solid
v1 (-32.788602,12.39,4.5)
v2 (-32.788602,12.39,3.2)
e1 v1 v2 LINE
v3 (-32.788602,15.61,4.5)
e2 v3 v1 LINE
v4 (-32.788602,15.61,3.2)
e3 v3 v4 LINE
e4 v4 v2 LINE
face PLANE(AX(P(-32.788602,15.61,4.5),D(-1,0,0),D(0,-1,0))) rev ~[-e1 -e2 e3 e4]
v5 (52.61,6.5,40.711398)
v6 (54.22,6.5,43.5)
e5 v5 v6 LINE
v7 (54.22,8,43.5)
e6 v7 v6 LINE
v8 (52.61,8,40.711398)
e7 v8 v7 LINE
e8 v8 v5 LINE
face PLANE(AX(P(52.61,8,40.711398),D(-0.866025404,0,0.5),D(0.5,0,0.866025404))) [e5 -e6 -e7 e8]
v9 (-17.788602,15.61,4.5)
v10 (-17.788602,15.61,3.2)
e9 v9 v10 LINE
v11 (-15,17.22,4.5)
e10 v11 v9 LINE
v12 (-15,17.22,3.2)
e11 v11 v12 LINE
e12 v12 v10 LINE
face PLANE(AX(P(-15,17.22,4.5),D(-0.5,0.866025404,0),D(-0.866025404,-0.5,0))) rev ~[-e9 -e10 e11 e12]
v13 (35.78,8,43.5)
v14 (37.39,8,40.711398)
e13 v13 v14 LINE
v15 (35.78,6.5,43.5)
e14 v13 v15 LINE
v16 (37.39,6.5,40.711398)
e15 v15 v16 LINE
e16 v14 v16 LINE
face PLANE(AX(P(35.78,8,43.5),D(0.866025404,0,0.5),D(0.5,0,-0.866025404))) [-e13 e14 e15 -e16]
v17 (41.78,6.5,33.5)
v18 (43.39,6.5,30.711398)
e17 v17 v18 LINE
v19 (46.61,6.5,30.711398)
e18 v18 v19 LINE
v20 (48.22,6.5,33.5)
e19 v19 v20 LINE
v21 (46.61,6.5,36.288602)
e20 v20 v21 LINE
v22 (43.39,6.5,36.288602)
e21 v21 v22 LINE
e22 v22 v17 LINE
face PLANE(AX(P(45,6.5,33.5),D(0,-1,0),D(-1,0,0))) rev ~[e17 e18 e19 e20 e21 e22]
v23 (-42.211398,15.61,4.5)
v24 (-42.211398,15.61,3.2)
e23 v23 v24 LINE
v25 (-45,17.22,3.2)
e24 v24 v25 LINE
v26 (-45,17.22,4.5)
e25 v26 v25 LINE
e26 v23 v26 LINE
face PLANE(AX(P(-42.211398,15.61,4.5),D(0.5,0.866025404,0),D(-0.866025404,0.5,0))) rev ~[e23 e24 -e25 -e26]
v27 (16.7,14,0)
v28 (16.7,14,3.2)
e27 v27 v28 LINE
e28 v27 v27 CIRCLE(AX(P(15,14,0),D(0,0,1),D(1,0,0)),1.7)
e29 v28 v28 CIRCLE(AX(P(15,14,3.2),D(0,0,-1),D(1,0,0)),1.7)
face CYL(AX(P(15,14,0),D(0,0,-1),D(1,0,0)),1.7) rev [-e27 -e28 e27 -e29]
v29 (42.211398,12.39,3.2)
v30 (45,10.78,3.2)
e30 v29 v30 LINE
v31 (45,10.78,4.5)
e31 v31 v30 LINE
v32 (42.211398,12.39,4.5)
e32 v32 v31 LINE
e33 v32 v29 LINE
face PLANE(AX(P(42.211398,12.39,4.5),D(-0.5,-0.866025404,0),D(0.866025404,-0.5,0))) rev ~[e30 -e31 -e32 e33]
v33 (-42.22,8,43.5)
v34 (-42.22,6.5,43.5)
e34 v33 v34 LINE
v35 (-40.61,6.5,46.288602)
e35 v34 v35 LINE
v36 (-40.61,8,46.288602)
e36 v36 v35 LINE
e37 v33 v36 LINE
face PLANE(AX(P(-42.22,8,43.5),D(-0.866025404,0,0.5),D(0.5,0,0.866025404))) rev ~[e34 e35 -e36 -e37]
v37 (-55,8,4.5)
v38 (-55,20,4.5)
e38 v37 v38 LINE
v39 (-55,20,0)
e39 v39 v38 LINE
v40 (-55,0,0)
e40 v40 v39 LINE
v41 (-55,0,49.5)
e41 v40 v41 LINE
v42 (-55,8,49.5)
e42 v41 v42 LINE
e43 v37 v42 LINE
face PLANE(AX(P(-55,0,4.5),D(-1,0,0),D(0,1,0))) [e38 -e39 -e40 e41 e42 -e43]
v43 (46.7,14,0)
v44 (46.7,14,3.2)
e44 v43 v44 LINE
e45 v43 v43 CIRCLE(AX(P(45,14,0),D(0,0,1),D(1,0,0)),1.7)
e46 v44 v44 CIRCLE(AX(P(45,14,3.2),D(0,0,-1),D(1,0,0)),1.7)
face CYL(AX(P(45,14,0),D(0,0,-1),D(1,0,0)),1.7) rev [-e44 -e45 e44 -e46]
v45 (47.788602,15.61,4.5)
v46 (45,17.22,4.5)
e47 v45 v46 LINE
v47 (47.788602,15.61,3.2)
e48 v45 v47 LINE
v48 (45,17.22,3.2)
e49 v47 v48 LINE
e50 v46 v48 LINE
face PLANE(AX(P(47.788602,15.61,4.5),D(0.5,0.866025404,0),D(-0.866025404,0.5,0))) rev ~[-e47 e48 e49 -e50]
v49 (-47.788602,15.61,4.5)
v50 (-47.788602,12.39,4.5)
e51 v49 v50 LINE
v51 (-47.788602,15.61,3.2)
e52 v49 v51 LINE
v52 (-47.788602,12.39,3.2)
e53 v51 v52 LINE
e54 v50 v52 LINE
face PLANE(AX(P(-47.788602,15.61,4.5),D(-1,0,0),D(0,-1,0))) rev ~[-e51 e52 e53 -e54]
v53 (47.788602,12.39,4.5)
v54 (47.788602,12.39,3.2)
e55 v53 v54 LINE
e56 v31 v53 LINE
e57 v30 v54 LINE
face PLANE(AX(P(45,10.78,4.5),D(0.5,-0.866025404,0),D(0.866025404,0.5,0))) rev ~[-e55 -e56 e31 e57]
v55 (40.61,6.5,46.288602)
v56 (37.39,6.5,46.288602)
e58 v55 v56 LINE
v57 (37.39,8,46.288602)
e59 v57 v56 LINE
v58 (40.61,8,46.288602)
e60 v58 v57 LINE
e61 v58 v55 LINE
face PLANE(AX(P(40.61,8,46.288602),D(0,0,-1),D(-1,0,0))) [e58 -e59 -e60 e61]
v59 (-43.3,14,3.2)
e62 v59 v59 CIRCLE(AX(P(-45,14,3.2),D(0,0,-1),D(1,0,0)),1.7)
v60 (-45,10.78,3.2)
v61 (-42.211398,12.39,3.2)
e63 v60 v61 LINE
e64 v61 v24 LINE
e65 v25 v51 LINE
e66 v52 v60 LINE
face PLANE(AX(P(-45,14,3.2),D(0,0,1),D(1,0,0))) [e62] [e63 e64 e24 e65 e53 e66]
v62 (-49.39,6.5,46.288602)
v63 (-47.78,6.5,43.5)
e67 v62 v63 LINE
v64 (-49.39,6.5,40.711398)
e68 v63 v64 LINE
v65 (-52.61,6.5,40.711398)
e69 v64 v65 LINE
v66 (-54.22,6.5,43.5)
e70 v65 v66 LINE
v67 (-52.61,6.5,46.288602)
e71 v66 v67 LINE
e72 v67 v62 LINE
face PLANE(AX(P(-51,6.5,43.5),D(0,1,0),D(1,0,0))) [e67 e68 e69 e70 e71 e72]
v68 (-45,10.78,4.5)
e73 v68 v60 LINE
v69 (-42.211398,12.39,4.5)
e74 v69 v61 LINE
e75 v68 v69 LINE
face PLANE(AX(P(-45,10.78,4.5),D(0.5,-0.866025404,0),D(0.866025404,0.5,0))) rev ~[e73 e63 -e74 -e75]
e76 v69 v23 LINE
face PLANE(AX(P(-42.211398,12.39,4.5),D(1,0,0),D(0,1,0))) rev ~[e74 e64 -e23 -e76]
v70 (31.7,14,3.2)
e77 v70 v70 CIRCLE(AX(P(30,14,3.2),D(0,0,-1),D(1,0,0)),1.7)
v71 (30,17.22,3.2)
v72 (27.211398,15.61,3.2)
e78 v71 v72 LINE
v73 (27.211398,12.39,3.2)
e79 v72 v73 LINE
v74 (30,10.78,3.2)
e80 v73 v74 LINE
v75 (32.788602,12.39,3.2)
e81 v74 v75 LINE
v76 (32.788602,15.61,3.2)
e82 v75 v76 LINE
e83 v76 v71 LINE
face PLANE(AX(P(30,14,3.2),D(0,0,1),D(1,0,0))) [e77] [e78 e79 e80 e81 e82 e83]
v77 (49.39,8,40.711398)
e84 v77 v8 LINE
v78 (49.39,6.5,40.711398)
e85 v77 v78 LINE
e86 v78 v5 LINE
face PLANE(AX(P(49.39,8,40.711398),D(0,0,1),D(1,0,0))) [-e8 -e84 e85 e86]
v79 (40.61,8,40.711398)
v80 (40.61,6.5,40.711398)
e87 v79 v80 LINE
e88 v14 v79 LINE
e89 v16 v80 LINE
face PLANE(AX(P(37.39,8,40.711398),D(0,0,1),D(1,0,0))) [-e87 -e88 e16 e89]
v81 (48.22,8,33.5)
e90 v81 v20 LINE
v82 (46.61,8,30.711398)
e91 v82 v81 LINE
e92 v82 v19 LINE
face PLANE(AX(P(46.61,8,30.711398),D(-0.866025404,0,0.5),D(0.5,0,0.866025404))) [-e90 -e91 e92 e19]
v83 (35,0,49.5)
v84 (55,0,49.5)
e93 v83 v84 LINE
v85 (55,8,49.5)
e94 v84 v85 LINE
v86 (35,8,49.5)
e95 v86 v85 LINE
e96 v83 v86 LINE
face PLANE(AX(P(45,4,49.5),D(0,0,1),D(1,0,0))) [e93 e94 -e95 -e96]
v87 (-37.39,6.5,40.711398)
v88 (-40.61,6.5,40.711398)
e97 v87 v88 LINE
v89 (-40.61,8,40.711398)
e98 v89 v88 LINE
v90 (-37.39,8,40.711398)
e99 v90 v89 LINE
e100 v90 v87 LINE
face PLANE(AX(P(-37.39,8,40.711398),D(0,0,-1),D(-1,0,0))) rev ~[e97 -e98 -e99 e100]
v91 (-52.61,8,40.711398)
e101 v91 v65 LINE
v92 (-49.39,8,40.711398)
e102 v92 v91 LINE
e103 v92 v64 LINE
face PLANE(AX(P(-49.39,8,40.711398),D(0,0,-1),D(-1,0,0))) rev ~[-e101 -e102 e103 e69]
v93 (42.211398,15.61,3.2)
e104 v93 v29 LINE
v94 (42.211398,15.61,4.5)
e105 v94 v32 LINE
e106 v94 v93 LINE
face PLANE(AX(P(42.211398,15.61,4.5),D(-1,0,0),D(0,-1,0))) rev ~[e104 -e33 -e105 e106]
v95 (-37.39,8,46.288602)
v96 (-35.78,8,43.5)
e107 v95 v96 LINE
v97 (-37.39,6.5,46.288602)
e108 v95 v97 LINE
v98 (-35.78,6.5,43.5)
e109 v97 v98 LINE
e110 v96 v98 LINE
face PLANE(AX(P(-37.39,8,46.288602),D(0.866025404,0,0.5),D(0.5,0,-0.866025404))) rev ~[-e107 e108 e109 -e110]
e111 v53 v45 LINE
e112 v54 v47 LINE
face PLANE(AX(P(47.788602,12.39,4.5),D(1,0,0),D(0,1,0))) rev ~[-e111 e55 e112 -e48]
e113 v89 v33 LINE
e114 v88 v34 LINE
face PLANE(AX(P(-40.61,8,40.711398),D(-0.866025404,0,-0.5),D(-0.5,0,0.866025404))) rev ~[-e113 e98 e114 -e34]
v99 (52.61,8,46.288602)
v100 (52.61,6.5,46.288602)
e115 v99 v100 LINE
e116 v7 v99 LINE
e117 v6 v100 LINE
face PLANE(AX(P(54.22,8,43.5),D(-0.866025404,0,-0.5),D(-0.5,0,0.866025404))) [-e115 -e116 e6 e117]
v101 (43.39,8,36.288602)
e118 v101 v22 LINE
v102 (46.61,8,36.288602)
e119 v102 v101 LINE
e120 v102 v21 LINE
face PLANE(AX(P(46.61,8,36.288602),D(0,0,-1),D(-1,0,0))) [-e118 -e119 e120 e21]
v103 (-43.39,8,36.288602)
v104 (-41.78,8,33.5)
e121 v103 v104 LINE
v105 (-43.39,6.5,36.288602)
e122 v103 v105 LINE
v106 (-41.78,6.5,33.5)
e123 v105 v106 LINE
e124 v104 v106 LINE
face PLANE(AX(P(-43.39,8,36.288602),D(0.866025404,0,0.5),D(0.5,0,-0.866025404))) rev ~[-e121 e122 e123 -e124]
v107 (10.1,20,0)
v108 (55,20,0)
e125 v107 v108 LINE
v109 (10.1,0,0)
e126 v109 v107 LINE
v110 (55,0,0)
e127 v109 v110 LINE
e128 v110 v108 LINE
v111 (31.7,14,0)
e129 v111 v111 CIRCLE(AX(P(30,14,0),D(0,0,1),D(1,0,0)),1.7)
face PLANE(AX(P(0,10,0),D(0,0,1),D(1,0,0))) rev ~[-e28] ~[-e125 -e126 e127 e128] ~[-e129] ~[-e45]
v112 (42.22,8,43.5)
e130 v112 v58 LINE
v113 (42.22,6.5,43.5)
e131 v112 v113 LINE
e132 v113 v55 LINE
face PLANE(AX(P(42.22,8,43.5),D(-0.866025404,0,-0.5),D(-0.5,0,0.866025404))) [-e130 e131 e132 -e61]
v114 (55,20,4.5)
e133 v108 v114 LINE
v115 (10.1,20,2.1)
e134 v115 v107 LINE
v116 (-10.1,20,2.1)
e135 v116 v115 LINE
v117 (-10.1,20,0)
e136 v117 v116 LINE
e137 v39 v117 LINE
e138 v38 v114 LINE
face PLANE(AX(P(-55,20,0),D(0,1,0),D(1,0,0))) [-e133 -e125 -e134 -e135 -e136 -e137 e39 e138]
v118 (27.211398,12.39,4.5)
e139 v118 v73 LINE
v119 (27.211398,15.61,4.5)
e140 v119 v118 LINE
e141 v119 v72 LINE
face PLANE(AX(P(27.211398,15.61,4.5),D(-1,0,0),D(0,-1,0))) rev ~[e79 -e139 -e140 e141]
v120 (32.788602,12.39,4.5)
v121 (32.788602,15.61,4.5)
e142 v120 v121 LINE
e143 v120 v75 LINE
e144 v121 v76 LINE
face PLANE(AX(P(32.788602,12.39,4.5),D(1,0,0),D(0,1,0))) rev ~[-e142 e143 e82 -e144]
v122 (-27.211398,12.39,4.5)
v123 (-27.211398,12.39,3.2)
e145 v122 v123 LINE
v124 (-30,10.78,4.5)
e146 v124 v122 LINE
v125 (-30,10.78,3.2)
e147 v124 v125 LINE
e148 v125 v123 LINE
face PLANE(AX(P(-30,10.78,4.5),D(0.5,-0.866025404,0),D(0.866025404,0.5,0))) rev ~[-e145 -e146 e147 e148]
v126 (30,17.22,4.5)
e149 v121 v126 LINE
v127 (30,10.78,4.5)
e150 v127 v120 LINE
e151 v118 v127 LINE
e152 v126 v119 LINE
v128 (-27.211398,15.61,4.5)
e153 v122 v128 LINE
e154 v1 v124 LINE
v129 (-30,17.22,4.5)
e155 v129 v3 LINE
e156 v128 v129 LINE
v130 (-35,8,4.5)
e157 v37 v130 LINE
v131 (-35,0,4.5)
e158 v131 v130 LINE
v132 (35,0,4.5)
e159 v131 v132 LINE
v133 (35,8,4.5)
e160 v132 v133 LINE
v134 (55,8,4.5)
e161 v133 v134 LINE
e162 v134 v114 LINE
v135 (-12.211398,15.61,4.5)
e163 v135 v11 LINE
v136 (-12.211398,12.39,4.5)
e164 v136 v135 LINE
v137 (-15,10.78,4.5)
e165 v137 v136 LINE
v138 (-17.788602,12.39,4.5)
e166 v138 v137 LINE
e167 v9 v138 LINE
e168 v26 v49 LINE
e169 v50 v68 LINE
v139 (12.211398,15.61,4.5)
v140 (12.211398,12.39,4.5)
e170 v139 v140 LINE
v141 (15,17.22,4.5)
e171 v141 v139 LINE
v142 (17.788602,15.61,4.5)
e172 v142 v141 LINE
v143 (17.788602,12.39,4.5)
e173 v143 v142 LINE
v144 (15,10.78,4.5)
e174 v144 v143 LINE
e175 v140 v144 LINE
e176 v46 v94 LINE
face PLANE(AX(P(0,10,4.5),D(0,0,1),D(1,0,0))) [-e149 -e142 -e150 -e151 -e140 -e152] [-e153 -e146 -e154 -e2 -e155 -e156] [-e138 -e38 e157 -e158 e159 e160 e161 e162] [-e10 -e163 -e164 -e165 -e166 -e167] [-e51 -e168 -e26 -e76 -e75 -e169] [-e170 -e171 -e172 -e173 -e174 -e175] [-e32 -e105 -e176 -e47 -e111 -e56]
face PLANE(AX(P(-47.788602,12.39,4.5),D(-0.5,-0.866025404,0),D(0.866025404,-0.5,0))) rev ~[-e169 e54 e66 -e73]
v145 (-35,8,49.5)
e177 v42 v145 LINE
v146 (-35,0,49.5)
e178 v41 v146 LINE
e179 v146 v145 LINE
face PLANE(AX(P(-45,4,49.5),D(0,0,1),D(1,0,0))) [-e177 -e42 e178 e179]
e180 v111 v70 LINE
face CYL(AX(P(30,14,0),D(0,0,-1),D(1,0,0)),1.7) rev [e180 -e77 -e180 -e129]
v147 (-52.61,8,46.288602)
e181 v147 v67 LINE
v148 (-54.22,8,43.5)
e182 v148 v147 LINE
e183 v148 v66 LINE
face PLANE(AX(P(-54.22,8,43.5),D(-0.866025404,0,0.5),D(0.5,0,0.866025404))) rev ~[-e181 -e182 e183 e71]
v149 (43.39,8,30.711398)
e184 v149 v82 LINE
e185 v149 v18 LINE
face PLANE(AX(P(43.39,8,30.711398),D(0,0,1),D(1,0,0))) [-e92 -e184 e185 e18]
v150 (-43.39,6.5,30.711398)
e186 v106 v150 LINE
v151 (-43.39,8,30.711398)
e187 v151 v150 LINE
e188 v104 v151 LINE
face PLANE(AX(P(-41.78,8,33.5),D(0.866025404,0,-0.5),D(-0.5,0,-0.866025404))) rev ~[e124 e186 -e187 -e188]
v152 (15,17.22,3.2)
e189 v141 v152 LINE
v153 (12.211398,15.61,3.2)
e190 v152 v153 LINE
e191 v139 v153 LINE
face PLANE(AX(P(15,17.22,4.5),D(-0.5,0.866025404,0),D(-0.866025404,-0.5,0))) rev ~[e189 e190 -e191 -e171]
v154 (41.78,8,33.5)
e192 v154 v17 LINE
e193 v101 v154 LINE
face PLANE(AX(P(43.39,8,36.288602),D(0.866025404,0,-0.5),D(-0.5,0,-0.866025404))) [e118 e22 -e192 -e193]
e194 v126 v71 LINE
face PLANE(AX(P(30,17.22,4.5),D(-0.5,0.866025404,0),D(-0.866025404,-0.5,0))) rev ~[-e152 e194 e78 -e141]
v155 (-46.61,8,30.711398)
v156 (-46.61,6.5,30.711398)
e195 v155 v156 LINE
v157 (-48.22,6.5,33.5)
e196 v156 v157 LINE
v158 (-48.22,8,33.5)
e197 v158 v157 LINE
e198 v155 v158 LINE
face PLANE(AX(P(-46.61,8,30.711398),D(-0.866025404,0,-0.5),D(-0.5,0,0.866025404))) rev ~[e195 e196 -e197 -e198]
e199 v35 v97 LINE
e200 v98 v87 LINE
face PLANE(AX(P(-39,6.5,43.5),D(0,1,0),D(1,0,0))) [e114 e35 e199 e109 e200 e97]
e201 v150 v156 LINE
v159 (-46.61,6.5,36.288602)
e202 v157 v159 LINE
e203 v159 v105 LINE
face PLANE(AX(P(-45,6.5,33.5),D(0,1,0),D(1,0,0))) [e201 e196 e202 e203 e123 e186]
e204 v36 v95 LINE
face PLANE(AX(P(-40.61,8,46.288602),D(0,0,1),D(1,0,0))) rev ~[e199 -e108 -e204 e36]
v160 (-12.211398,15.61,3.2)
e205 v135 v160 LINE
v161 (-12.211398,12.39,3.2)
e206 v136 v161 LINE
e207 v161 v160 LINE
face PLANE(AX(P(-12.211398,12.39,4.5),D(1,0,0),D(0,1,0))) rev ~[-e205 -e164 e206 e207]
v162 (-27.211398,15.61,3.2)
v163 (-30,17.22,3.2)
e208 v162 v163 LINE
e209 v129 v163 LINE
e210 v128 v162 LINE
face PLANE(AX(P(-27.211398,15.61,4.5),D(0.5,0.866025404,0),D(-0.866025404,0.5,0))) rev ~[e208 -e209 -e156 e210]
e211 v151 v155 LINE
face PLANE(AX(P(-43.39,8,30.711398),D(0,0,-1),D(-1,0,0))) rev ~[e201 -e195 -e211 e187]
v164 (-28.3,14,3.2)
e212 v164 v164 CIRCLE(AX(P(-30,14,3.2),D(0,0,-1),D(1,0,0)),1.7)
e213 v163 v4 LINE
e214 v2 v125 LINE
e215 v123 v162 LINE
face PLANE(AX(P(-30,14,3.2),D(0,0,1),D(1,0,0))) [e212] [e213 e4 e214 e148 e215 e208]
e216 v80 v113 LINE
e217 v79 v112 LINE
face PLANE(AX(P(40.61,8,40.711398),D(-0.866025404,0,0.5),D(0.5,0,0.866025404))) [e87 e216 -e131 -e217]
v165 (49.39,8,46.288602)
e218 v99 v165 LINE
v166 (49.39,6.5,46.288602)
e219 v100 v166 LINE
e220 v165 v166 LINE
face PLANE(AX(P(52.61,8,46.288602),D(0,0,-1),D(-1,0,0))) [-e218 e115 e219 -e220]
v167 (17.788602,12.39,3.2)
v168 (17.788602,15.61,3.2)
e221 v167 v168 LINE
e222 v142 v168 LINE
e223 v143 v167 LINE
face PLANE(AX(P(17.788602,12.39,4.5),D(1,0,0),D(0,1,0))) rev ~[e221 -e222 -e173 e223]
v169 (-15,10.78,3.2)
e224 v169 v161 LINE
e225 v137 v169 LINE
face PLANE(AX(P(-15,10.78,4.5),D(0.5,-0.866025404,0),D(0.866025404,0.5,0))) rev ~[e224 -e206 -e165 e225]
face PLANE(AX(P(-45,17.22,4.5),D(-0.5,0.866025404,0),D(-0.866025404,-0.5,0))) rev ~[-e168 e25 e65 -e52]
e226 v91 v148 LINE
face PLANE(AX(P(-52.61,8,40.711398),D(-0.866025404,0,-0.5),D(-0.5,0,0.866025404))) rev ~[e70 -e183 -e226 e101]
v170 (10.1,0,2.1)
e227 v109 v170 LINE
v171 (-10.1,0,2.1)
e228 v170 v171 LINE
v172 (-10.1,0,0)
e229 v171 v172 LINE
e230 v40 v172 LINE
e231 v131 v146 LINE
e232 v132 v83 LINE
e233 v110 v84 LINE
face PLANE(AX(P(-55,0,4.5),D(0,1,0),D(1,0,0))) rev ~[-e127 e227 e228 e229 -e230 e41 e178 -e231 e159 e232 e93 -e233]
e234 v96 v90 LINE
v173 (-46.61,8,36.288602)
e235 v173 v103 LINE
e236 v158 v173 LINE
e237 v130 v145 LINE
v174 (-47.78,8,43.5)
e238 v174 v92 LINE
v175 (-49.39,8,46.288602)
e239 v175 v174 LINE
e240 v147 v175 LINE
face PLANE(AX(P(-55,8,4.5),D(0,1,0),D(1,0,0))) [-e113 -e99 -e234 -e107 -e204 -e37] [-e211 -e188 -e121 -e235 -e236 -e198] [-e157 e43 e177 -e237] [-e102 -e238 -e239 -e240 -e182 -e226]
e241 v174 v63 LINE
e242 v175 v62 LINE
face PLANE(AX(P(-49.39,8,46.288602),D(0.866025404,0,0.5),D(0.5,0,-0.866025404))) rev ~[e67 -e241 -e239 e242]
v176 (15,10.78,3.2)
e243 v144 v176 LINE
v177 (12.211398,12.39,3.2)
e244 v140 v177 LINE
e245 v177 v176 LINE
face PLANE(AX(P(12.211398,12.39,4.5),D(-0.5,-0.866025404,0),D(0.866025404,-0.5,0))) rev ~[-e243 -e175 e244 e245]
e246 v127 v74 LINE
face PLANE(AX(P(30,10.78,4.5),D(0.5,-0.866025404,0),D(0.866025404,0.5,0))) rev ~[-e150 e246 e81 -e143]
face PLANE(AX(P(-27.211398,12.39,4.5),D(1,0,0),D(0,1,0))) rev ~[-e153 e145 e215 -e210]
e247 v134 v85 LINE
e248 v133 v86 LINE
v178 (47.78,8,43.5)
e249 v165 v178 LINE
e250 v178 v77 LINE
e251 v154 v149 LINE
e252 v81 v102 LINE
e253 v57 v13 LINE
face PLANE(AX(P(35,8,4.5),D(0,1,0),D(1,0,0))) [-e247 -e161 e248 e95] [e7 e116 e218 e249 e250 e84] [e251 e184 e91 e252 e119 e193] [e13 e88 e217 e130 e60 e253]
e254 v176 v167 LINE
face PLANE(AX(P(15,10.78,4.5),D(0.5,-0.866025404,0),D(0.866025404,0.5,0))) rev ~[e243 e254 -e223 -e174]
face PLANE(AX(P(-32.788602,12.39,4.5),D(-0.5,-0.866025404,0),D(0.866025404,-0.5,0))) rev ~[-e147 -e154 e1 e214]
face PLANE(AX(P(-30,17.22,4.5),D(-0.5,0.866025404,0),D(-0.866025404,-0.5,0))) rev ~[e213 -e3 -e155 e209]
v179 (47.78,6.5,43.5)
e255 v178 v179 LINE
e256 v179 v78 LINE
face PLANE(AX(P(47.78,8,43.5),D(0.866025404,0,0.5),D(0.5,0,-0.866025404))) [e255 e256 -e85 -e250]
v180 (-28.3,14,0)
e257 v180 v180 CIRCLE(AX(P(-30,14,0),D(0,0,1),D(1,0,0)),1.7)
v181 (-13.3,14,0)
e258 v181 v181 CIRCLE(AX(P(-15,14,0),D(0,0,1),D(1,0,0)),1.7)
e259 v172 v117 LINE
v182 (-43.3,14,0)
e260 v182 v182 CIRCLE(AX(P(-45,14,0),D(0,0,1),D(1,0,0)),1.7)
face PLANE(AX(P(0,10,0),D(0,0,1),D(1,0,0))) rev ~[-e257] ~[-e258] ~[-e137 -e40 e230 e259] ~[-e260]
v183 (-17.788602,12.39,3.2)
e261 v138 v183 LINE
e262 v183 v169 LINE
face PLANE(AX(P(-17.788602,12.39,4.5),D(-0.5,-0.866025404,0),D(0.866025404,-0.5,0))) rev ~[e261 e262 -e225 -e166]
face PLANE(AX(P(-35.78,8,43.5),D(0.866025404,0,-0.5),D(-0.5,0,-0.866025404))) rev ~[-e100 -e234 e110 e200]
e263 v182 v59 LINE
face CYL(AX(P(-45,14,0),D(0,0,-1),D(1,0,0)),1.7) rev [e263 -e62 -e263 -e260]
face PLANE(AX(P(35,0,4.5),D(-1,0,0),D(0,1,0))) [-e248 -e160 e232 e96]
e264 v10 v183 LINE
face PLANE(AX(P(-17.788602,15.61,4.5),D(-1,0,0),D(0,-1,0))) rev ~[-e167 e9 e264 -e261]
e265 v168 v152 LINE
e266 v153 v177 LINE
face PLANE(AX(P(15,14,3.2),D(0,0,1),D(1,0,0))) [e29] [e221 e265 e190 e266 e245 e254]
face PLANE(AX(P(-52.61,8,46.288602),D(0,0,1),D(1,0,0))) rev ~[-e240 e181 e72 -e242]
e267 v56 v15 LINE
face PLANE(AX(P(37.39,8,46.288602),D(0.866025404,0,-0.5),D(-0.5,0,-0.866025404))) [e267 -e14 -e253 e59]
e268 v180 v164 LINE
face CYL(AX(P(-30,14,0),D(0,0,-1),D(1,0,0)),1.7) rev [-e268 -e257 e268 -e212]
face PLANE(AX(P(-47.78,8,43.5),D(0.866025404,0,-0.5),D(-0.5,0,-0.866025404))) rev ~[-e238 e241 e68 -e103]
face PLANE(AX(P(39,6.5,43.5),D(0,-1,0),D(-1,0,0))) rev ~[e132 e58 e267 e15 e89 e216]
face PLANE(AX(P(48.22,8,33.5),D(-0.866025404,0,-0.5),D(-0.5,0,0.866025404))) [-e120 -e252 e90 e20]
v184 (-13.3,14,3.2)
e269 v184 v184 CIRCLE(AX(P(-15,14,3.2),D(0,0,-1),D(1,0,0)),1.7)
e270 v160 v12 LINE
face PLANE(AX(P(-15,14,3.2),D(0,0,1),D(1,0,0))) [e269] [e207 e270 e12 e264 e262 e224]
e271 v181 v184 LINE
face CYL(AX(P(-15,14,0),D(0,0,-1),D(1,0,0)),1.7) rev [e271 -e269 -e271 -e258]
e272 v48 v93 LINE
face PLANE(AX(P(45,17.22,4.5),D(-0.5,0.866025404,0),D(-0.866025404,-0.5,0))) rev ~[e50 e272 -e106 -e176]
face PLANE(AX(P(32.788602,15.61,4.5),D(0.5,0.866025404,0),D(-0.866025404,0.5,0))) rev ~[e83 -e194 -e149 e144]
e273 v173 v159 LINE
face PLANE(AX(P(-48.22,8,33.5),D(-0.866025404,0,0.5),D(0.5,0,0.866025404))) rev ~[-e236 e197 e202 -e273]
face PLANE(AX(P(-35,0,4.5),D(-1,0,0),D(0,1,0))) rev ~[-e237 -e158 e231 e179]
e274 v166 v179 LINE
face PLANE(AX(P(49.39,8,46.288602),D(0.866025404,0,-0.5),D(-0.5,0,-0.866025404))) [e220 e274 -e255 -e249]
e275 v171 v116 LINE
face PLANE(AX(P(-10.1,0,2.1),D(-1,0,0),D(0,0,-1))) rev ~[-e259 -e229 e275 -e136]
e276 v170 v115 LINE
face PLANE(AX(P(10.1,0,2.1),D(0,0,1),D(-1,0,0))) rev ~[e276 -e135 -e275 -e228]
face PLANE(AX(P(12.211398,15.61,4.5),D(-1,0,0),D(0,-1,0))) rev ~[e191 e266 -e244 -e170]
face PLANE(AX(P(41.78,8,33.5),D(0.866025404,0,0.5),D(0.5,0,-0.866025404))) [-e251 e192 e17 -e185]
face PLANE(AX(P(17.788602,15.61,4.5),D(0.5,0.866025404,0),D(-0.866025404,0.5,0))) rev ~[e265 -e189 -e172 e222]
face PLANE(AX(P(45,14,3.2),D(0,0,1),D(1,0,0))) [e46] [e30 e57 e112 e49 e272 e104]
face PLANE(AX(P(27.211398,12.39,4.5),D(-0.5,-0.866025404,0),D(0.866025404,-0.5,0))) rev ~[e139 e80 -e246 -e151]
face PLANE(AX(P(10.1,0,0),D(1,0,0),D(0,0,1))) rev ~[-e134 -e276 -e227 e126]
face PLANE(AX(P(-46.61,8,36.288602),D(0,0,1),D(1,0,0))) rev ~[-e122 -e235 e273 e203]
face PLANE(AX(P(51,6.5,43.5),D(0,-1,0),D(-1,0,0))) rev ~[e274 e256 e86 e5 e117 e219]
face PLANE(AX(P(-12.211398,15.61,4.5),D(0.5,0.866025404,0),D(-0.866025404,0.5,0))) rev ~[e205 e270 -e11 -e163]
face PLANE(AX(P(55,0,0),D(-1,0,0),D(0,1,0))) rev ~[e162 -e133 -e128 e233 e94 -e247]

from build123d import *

# Parameters (mm, degrees)
SKETCH_1_W          = 110
SKETCH_1_H          = 20
SKETCH_1_R          = 1.7
EXTRUDE_1_DEPTH     = 4.5
SKETCH_2_W          = 20
SKETCH_2_H          = 8
EXTRUDE_2_DEPTH     = 45
CUT_EXTRUDE_1_DEPTH = 1.3
CUT_EXTRUDE_2_DEPTH = 29
SKETCH_11_R         = 1.7
CUT_EXTRUDE_3_DEPTH = 167
CUT_EXTRUDE_4_DEPTH = 1.5


with BuildPart() as part:
    # 草图1 → 凸台-拉伸1 (new body)
    with BuildSketch(Plane.XY):
        with Locations((0, 10)):
            Rectangle(SKETCH_1_W, SKETCH_1_H)
        with Locations((-45, 14)):
            Circle(SKETCH_1_R, mode=Mode.SUBTRACT)
        with Locations((-30, 14)):
            Circle(SKETCH_1_R, mode=Mode.SUBTRACT)
        with Locations((-15, 14)):
            Circle(SKETCH_1_R, mode=Mode.SUBTRACT)
        with Locations((15, 14)):
            Circle(SKETCH_1_R, mode=Mode.SUBTRACT)
        with Locations((30, 14)):
            Circle(SKETCH_1_R, mode=Mode.SUBTRACT)
        with Locations((45, 14)):
            Circle(SKETCH_1_R, mode=Mode.SUBTRACT)
    extrude(amount=EXTRUDE_1_DEPTH)

    # 草图2 → 凸台-拉伸2 (add)
    with BuildSketch(Plane.XY.offset(4.5)):
        with Locations((-45, 4)):
            Rectangle(SKETCH_2_W, SKETCH_2_H)
        with Locations((45, 4)):
            Rectangle(SKETCH_2_W, SKETCH_2_H)
    extrude(amount=EXTRUDE_2_DEPTH)

    # 草图3 → 切除-拉伸1 (cut)
    with BuildSketch(Plane.XY.offset(4.5)):
        Polygon((-45, 17.22), (-47.7886018, 15.61), (-47.7886018, 12.39), (-45, 10.78), (-42.2113982, 12.39), (-42.2113982, 15.61), align=None)
        Polygon((-30, 17.22), (-32.7886018, 15.61), (-32.7886018, 12.39), (-30, 10.78), (-27.2113982, 12.39), (-27.2113982, 15.61), align=None)
        Polygon((-15, 17.22), (-17.7886018, 15.61), (-17.7886018, 12.39), (-15, 10.78), (-12.2113982, 12.39), (-12.2113982, 15.61), align=None)
        Polygon((15, 17.22), (12.2113982, 15.61), (12.2113982, 12.39), (15, 10.78), (17.7886018, 12.39), (17.7886018, 15.61), align=None)
        Polygon((30, 17.22), (27.2113982, 15.61), (27.2113982, 12.39), (30, 10.78), (32.7886018, 12.39), (32.7886018, 15.61), align=None)
        Polygon((45, 17.22), (42.2113982, 15.61), (42.2113982, 12.39), (45, 10.78), (47.7886018, 12.39), (47.7886018, 15.61), align=None)
    extrude(amount=-CUT_EXTRUDE_1_DEPTH, mode=Mode.SUBTRACT)

    # 草图10 → 切除-拉伸2 (cut)
    with BuildSketch(Plane.XZ):
        Polygon((0, 0), (10.1, 0), (10.1, 2.1), (-10.1, 2.1), (-10.1, 0), align=None)
    extrude(amount=-CUT_EXTRUDE_2_DEPTH, mode=Mode.SUBTRACT)

    # 草图11 → 切除-拉伸3 (cut)
    with BuildSketch(Plane.XZ):
        with Locations((-331.768706014, -207.641629986)):
            Circle(SKETCH_11_R)
        with Locations((-337.768706014, -197.641629986)):
            Circle(SKETCH_11_R)
        with Locations((-325.768706014, -197.641629986)):
            Circle(SKETCH_11_R)
        with Locations((-247.768706014, -197.641629986)):
            Circle(SKETCH_11_R)
        with Locations((-235.768706014, -197.641629986)):
            Circle(SKETCH_11_R)
        with Locations((-241.768706014, -207.641629986)):
            Circle(SKETCH_11_R)
    extrude(amount=-CUT_EXTRUDE_3_DEPTH, mode=Mode.SUBTRACT)

    # 草图12 → 切除-拉伸4 (cut)
    with BuildSketch(Plane(origin=(0, 8, 0), x_dir=(1, 0, 0), z_dir=(0, 1, 0))):
        Polygon((-41.78, -33.5), (-43.39, -30.7113982), (-46.61, -30.7113982), (-48.22, -33.5), (-46.61, -36.2886018), (-43.39, -36.2886018), align=None)
        Polygon((-47.78, -43.5), (-49.39, -40.7113982), (-52.61, -40.7113982), (-54.22, -43.5), (-52.61, -46.2886018), (-49.39, -46.2886018), align=None)
        Polygon((-35.78, -43.5), (-37.39, -40.7113982), (-40.61, -40.7113982), (-42.22, -43.5), (-40.61, -46.2886018), (-37.39, -46.2886018), align=None)
        Polygon((37.39, -46.2886018), (35.78, -43.5), (37.39, -40.7113982), (40.61, -40.7113982), (42.22, -43.5), (40.61, -46.2886018), align=None)
        Polygon((49.39, -46.2886018), (47.78, -43.5), (49.39, -40.7113982), (52.61, -40.7113982), (54.22, -43.5), (52.61, -46.2886018), align=None)
        Polygon((43.39, -36.2886018), (41.78, -33.5), (43.39, -30.7113982), (46.61, -30.7113982), (48.22, -33.5), (46.61, -36.2886018), align=None)
    extrude(amount=-CUT_EXTRUDE_4_DEPTH, mode=Mode.SUBTRACT)


solid = part.part
